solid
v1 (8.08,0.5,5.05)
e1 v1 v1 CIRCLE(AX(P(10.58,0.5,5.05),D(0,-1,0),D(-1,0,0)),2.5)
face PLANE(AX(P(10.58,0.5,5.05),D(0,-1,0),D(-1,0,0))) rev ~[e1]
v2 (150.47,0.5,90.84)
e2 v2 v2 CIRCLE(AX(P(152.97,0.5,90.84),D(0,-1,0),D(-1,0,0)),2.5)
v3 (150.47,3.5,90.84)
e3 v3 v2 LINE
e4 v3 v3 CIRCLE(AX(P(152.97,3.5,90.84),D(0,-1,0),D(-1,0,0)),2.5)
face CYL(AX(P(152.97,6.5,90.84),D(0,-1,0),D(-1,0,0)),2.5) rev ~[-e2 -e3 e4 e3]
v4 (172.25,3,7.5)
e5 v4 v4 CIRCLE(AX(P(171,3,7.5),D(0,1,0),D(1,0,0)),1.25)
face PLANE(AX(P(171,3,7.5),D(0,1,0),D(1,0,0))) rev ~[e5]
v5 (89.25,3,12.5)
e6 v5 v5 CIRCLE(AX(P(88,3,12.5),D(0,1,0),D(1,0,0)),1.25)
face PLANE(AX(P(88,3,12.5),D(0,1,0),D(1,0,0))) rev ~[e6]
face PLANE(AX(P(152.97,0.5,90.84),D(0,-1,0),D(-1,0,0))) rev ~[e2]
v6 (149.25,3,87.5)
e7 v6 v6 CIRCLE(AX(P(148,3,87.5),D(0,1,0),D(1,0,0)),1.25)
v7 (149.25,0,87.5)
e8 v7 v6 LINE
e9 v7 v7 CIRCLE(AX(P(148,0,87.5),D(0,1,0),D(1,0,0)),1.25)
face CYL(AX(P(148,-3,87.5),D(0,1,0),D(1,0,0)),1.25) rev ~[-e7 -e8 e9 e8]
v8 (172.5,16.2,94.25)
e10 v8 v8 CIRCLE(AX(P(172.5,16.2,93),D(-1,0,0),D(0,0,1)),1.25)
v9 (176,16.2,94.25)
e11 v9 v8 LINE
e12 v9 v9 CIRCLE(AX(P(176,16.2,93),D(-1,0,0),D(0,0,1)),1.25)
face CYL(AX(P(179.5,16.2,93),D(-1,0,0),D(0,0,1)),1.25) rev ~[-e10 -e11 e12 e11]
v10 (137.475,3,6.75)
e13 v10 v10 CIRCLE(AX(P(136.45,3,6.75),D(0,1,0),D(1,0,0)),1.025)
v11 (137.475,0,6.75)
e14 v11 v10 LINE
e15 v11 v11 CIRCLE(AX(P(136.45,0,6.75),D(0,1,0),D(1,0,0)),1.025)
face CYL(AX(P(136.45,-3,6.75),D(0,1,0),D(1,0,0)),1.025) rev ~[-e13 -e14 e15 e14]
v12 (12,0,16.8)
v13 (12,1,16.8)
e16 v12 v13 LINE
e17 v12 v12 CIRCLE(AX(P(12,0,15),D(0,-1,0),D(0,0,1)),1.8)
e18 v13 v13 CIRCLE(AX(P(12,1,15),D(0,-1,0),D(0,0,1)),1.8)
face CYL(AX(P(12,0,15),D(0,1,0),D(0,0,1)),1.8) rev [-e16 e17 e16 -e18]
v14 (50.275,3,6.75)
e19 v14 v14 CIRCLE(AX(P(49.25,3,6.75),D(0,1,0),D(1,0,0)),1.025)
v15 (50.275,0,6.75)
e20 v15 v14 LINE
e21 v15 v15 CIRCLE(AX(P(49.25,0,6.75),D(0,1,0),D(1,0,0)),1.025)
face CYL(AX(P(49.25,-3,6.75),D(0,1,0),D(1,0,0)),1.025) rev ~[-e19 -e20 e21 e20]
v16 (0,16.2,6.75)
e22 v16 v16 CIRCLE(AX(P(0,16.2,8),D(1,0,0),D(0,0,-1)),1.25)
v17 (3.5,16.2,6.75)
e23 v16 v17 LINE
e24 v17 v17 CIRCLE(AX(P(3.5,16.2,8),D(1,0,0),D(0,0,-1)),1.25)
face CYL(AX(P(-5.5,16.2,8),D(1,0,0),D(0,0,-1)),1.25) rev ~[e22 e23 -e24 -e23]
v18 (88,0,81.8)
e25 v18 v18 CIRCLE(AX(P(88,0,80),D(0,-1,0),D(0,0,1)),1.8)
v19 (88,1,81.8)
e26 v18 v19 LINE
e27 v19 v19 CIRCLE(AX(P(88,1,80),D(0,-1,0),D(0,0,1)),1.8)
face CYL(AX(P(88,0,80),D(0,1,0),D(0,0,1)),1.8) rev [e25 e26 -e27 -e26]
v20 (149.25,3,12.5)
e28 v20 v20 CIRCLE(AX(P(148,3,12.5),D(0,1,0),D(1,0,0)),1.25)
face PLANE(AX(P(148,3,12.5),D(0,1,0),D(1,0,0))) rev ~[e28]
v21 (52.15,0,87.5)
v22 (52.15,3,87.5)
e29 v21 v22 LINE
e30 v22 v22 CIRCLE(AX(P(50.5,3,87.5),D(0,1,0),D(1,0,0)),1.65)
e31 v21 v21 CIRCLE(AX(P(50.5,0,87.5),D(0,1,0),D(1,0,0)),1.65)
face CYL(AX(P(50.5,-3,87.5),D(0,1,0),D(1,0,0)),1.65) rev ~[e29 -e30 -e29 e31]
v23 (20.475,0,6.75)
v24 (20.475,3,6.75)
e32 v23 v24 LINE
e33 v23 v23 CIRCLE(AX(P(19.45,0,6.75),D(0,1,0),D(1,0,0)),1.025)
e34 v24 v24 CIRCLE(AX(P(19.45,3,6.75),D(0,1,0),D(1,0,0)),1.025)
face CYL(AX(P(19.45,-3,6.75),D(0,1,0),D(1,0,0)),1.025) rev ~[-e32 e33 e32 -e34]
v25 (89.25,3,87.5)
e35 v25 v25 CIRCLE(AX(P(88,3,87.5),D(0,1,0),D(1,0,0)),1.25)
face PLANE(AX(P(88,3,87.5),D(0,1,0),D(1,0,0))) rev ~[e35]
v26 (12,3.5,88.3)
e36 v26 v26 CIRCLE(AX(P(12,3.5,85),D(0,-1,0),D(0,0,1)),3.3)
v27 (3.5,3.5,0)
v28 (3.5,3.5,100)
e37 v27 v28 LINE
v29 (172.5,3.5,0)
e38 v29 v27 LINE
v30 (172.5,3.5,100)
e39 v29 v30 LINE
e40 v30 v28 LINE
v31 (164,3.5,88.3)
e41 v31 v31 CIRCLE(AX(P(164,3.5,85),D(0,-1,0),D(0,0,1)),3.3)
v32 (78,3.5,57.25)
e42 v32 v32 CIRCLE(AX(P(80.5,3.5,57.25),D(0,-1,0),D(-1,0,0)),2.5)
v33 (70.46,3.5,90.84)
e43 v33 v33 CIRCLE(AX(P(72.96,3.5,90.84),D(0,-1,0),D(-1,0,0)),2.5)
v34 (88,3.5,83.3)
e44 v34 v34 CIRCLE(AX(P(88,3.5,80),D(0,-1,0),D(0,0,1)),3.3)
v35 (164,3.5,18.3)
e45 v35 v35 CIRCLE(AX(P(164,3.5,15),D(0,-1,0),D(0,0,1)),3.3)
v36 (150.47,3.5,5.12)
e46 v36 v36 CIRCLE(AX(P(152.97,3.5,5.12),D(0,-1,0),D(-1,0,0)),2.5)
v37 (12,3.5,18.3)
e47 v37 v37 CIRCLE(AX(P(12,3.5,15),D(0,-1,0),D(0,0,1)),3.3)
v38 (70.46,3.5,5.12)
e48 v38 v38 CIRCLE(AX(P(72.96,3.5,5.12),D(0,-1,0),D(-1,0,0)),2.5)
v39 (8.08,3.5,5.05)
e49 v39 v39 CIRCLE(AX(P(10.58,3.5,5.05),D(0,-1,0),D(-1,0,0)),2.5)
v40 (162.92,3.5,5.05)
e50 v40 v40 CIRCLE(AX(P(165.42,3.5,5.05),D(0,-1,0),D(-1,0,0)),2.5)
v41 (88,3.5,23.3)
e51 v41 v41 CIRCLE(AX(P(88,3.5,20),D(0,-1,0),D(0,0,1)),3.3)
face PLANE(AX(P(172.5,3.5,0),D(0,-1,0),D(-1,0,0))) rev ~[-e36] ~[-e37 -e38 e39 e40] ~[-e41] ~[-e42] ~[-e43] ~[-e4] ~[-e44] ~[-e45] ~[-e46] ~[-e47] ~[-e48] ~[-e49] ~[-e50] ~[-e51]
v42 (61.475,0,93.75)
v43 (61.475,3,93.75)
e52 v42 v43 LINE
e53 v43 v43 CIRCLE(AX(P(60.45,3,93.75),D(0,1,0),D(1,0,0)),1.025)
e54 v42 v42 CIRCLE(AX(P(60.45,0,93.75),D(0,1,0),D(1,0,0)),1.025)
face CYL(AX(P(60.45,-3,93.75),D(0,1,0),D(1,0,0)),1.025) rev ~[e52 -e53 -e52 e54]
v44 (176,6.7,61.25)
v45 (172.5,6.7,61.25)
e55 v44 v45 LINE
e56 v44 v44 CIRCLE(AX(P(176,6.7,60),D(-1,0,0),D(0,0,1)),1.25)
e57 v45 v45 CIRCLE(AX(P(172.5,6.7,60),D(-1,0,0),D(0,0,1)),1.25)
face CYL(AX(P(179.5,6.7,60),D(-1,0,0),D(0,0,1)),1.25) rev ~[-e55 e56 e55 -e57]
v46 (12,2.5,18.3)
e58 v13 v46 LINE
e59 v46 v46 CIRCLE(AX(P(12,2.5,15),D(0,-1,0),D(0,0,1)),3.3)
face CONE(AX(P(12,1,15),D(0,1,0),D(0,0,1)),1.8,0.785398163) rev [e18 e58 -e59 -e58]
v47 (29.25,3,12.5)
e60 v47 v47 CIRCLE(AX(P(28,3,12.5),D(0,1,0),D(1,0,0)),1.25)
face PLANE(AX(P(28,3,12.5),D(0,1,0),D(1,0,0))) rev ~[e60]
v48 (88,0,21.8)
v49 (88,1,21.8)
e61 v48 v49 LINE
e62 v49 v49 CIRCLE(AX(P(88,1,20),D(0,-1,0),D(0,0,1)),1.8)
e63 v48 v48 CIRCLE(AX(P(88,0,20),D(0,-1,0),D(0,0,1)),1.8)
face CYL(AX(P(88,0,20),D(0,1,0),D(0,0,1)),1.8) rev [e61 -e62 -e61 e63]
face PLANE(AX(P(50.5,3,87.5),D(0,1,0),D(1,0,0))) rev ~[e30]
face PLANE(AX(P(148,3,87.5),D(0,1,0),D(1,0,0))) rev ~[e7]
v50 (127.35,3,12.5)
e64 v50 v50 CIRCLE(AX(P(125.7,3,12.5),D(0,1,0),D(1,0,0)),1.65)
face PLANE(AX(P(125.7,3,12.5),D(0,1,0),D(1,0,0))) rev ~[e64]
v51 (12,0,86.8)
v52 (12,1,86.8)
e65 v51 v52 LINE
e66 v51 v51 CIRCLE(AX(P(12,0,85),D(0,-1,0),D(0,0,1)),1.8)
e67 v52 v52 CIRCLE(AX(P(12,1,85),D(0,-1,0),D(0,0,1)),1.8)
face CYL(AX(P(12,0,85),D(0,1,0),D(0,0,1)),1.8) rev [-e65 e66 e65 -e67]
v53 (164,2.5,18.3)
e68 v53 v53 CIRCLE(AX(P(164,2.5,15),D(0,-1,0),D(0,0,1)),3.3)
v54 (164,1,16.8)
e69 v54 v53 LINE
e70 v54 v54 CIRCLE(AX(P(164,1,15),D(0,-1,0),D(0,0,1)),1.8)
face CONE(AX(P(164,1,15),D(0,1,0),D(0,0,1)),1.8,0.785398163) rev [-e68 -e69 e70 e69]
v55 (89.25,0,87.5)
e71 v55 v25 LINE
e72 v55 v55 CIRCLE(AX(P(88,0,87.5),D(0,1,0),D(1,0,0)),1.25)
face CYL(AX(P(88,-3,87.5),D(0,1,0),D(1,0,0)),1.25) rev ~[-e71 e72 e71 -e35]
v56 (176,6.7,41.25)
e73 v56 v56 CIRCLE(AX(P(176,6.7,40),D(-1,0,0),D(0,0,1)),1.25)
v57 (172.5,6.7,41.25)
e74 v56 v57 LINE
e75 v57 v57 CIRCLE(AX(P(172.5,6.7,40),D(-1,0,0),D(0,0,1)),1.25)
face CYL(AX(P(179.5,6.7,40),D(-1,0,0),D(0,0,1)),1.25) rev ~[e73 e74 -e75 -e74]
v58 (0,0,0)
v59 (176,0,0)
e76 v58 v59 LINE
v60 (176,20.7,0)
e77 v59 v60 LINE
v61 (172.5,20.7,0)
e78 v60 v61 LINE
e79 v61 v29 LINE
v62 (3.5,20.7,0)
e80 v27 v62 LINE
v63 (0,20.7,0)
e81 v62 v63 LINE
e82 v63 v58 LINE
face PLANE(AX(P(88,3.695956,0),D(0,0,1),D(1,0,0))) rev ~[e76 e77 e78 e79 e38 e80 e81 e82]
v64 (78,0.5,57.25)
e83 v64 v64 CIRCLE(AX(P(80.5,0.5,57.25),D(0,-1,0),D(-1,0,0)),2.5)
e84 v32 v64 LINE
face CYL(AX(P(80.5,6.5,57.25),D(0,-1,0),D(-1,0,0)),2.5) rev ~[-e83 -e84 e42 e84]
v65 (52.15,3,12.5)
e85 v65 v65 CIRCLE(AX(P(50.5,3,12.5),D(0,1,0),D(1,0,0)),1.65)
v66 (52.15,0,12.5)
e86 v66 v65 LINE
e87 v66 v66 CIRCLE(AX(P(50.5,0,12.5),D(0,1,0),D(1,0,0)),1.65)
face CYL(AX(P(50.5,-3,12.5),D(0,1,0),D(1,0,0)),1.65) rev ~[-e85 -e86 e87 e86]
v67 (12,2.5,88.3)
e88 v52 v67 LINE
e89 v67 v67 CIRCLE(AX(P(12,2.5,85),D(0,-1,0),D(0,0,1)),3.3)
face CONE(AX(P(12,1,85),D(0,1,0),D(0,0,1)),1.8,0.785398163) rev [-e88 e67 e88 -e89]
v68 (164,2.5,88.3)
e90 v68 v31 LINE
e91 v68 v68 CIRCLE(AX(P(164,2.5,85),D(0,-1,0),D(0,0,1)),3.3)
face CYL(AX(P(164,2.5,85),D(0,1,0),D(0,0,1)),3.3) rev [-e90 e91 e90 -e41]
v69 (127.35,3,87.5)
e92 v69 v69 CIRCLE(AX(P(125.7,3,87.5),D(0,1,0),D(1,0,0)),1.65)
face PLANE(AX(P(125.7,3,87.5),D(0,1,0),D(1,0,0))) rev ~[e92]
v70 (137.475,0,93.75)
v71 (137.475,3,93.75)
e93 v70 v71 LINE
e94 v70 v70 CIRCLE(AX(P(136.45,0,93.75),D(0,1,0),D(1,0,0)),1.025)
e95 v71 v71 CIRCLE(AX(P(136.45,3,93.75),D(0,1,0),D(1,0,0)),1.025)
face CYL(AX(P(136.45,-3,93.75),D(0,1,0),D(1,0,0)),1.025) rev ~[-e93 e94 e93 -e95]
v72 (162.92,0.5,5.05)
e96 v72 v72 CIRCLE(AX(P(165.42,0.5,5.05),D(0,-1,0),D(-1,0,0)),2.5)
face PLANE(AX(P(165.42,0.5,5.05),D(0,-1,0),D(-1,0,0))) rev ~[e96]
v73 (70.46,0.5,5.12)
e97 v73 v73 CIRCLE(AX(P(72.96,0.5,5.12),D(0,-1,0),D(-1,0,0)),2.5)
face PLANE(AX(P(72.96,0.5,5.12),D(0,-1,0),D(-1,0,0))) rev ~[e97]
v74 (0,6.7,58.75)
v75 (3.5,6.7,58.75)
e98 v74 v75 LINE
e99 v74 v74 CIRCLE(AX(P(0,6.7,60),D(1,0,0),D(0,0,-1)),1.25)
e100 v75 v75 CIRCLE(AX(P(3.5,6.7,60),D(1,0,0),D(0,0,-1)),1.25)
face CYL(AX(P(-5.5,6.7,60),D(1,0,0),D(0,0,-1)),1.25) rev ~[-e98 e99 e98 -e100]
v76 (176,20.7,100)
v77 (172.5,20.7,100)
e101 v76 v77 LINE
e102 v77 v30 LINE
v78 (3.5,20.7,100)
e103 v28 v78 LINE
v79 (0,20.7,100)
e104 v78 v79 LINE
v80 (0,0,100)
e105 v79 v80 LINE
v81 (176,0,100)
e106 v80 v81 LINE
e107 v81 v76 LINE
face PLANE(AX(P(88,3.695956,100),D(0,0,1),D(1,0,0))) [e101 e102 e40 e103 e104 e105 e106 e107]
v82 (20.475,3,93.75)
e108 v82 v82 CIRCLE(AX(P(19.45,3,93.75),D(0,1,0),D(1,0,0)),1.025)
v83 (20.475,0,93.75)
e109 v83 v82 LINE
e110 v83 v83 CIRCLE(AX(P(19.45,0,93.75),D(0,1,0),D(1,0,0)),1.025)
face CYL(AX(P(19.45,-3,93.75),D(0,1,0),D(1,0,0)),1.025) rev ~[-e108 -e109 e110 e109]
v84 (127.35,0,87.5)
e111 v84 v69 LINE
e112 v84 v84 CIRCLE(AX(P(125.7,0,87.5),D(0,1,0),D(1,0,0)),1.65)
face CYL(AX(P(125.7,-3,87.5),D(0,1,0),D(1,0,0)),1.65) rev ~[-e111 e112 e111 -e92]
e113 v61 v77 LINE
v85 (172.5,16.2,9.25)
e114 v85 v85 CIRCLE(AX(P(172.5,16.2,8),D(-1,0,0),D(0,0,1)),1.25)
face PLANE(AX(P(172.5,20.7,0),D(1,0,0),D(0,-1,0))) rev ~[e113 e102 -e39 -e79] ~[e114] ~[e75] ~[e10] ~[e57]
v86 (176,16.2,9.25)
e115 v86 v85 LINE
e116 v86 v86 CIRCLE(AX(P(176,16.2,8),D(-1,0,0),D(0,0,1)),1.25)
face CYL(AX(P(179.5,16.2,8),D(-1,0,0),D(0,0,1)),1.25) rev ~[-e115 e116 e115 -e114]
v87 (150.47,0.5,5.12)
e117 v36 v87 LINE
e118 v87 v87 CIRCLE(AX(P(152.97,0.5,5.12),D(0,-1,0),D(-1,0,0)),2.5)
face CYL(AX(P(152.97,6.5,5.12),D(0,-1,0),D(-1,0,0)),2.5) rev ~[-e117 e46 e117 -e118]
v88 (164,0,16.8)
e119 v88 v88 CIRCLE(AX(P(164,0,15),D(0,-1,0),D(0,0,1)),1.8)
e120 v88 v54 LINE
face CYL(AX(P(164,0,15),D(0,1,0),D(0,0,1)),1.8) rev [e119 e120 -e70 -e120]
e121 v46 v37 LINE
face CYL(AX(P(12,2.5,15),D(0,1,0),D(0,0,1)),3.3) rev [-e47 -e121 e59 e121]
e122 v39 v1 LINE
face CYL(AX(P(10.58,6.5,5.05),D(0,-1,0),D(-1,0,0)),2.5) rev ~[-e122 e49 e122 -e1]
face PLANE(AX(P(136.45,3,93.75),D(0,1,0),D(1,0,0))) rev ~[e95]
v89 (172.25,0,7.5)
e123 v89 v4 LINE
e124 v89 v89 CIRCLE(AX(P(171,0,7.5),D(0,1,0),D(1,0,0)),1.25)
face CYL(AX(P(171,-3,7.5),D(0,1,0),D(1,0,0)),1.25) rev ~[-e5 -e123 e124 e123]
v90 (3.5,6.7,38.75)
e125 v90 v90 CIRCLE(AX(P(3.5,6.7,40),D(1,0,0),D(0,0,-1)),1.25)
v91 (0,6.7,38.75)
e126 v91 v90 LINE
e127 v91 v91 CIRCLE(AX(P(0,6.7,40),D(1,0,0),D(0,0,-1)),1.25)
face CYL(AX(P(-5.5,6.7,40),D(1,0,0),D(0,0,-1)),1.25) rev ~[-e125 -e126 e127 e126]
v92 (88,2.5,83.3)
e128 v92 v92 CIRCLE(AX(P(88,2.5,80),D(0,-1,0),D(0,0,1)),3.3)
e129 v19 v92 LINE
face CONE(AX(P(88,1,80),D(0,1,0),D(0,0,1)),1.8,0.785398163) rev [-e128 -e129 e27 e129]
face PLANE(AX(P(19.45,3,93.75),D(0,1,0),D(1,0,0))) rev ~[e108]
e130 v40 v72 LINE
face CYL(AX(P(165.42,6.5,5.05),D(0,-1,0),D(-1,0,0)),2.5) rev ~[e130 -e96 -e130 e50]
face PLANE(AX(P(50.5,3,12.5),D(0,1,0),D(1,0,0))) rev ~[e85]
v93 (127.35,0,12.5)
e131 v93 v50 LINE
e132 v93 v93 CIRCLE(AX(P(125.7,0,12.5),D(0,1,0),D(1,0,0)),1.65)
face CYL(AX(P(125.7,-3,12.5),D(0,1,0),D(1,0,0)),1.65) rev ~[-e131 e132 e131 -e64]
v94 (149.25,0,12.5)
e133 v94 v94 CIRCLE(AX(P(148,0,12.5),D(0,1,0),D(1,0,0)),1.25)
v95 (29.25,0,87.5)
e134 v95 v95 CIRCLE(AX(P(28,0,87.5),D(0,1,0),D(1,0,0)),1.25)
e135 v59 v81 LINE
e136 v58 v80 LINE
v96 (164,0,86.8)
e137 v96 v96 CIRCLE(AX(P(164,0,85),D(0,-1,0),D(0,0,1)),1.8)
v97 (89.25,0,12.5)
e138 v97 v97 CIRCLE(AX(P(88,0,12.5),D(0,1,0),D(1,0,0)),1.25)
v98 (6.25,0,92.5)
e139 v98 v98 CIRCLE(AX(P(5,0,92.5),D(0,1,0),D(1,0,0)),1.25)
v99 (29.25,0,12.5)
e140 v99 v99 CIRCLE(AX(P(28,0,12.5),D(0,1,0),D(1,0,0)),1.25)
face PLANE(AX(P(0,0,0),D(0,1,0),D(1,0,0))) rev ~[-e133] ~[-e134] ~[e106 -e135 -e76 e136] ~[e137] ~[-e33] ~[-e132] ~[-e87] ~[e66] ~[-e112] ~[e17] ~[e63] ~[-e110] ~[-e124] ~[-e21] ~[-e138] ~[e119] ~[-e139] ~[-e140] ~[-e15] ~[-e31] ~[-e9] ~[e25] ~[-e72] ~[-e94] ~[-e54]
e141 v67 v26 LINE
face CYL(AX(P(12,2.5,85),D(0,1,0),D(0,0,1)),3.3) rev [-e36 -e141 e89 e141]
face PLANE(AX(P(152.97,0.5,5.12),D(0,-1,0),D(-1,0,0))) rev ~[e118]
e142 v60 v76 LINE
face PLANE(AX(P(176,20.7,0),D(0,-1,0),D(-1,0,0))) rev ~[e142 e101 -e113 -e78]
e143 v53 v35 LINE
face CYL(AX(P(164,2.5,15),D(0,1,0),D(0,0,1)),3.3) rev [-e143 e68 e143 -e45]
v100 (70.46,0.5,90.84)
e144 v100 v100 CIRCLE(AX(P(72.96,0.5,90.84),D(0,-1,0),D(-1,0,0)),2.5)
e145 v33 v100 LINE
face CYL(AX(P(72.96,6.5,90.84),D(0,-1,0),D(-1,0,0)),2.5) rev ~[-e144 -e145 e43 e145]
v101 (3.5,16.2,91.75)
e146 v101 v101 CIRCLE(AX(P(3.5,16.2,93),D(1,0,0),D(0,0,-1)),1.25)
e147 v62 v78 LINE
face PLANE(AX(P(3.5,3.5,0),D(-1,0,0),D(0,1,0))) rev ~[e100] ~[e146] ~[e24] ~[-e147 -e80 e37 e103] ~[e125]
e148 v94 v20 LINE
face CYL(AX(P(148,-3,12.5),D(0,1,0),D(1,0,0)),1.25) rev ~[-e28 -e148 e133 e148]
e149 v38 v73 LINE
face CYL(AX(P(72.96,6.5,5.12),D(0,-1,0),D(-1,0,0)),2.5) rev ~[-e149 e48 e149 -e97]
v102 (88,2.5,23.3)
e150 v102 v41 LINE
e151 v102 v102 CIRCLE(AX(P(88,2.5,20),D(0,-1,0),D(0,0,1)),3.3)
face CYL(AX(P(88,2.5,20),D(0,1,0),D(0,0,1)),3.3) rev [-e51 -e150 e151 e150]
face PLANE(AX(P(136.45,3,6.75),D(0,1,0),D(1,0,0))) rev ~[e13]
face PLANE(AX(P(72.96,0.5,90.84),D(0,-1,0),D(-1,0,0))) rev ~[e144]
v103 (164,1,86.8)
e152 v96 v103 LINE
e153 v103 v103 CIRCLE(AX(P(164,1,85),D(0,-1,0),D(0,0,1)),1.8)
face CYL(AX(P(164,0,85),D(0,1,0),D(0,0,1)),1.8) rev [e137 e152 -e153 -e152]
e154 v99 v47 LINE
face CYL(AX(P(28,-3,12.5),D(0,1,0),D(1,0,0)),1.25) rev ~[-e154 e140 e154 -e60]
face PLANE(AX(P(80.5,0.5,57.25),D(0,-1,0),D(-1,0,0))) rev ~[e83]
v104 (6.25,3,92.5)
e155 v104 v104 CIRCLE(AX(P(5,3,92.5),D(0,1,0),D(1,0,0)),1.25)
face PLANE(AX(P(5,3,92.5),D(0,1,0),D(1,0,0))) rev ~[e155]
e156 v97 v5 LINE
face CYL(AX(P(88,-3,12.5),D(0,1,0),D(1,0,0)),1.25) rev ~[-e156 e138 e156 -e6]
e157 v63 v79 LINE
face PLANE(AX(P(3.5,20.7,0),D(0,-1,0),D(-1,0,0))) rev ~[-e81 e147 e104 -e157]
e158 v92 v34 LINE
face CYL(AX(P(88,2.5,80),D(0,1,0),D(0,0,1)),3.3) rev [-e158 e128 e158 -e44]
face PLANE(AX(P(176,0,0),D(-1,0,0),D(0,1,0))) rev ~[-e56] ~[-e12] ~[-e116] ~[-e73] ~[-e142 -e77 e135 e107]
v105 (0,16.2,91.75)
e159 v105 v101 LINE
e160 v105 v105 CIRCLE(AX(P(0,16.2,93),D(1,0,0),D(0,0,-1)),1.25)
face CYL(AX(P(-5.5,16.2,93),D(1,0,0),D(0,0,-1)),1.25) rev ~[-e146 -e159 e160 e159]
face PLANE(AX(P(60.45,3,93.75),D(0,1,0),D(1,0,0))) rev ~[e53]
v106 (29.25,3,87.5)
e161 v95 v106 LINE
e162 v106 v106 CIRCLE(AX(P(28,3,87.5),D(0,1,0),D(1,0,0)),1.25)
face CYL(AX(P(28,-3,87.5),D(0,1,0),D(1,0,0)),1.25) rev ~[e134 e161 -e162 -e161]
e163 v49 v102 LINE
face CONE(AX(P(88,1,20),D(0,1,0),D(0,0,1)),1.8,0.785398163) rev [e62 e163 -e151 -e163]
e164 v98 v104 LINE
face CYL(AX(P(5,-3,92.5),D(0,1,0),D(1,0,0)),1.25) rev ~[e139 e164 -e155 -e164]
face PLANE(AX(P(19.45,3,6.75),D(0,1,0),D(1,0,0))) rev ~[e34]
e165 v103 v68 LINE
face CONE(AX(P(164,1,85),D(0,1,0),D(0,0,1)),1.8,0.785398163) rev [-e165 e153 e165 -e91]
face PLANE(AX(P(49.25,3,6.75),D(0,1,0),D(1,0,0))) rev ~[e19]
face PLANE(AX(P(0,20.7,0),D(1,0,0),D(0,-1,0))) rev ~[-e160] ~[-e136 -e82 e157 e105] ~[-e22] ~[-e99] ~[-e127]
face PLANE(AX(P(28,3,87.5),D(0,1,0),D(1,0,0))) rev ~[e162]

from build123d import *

# Parameters (mm, degrees)
EXTRUDE_1_DEPTH              = 100
HOLE_WIZARD_2_5_2_5_1_D      = 2.5
HOLE_WIZARD_2_5_2_5_1_DEPTH  = 3
HOLE_WIZARD_M2_51_D          = 2.05
HOLE_WIZARD_M2_51_DEPTH      = 3
HOLE_WIZARD_M31_D            = 2.5
HOLE_WIZARD_M31_DEPTH        = 3
HOLE_WIZARD_M41_D            = 3.3
HOLE_WIZARD_M41_DEPTH        = 3
HOLE_WIZARD_M32_D            = 2.5
HOLE_WIZARD_M32_DEPTH        = 3.5
HOLE_WIZARD_M33_D            = 2.5
HOLE_WIZARD_M33_DEPTH        = 5.5
HOLE_WIZARD_M31_2_AT_2_COUNT = 2
HOLE_WIZARD_M31_2_AT_2_PITCH = 76.164296097
HOLE_WIZARD_M31_2_AT_3_COUNT = 2
HOLE_WIZARD_M31_2_AT_3_PITCH = 152
HOLE_WIZARD_M31_2_AT_4_COUNT = 2
HOLE_WIZARD_M31_2_AT_4_PITCH = 70
HOLE_WIZARD_M31_2_AT_5_COUNT = 2
HOLE_WIZARD_M31_2_AT_5_PITCH = 100.004999875
HOLE_WIZARD_M31_2_AT_6_COUNT = 2
HOLE_WIZARD_M31_2_AT_6_PITCH = 167.343957166
HOLE_WIZARD_5_0_5_1_D        = 5
HOLE_WIZARD_5_0_5_1_DEPTH    = 3


with BuildPart() as part:
    # Эскиз1 → Вытянуть-Тонкостенный1 (new body)
    with BuildSketch(Plane.XY):
        Polygon((0, 20.7), (0, 0), (176, 0), (176, 20.7), (172.5, 20.7), (172.5, 3.5), (3.5, 3.5), (3.5, 20.7), align=None)
    extrude(amount=EXTRUDE_1_DEPTH)

    # Диаметр отверстия Ø2.5 (2.5)1
    with Locations(Plane(origin=(0, 0, 0), x_dir=(-1, 0, 0), z_dir=(0, -1, 0))):
        with Locations((-5, -92.5), (-171, -7.5)):
            Hole(HOLE_WIZARD_2_5_2_5_1_D / 2, depth=HOLE_WIZARD_2_5_2_5_1_DEPTH)

    # Отверстие обработанное метчиком M2,51
    with Locations(Plane(origin=(0, 0, 0), x_dir=(-1, 0, 0), z_dir=(0, -1, 0))):
        with Locations((-19.45, -93.75), (-60.45, -93.75), (-136.45, -93.75), (-136.45, -6.75), (-49.25, -6.75), (-19.45, -6.75)):
            Hole(HOLE_WIZARD_M2_51_D / 2, depth=HOLE_WIZARD_M2_51_DEPTH)

    # Hole Wizard M31
    with Locations(Plane(origin=(0, 0, 0), x_dir=(-1, 0, 0), z_dir=(0, -1, 0))):
        with Locations((-28, -87.5), (-88, -87.5), (-148, -87.5), (-148, -12.5), (-88, -12.5), (-28, -12.5)):
            Hole(HOLE_WIZARD_M31_D / 2, depth=HOLE_WIZARD_M31_DEPTH)

    # Отверстие обработанное метчиком M41
    with Locations(Plane(origin=(0, 0, 0), x_dir=(-1, 0, 0), z_dir=(0, -1, 0))):
        with Locations((-50.5, -87.5), (-125.7, -87.5), (-125.7, -12.5), (-50.5, -12.5)):
            Hole(HOLE_WIZARD_M41_D / 2, depth=HOLE_WIZARD_M41_DEPTH)

    # Отверстие обработанное метчиком M32
    with Locations(Plane(origin=(176, 0, 0), x_dir=(0, 0, -1), z_dir=(1, 0, 0))):
        with Locations((-93, 16.2), (-60, 6.7), (-40, 6.7), (-8, 16.2)):
            Hole(HOLE_WIZARD_M32_D / 2, depth=HOLE_WIZARD_M32_DEPTH)

    # Отверстие обработанное метчиком M33
    with Locations(Plane.ZY):
        with Locations((93, 16.2), (60, 6.7), (40, 6.7), (8, 16.2)):
            Hole(HOLE_WIZARD_M33_D / 2, depth=HOLE_WIZARD_M33_DEPTH)

    # Эскиз14 → Hole Wizard M31 2 (revolve, cut)
    with BuildSketch(Plane(origin=(12, 3.5, 15), x_dir=(0, 0, 1), z_dir=(1, 0, 0))):
        Polygon((0, 0), (0, 3.5), (1.8, 3.5), (1.8, 2.5), (3.3, 1), (3.3, 0), align=None)
    hole_wizard_m31_2 = revolve(axis=Axis((12, 9.85, 15), (0, -1, 0)), mode=Mode.SUBTRACT)

    # Hole Wizard M31 2 at 2: Hole Wizard M31 2 ×2
    with Locations(*[Vector(0.9978428725040861, 0, 0.06564755740158466) * (i * HOLE_WIZARD_M31_2_AT_2_PITCH) for i in range(1, HOLE_WIZARD_M31_2_AT_2_COUNT)]):
        add(hole_wizard_m31_2, mode=Mode.SUBTRACT)

    # Hole Wizard M31 2 at 3: Hole Wizard M31 2 ×2
    with Locations(*[(i * HOLE_WIZARD_M31_2_AT_3_PITCH, 0, 0) for i in range(1, HOLE_WIZARD_M31_2_AT_3_COUNT)]):
        add(hole_wizard_m31_2, mode=Mode.SUBTRACT)

    # Hole Wizard M31 2 at 4: Hole Wizard M31 2 ×2
    with Locations(*[(0, 0, i * HOLE_WIZARD_M31_2_AT_4_PITCH) for i in range(1, HOLE_WIZARD_M31_2_AT_4_COUNT)]):
        add(hole_wizard_m31_2, mode=Mode.SUBTRACT)

    # Hole Wizard M31 2 at 5: Hole Wizard M31 2 ×2
    with Locations(*[Vector(0.7599620028497626, 0, 0.649967502437297) * (i * HOLE_WIZARD_M31_2_AT_5_PITCH) for i in range(1, HOLE_WIZARD_M31_2_AT_5_COUNT)]):
        add(hole_wizard_m31_2, mode=Mode.SUBTRACT)

    # Hole Wizard M31 2 at 6: Hole Wizard M31 2 ×2
    with Locations(*[Vector(0.9083088662063591, 0, 0.41830013575292857) * (i * HOLE_WIZARD_M31_2_AT_6_PITCH) for i in range(1, HOLE_WIZARD_M31_2_AT_6_COUNT)]):
        add(hole_wizard_m31_2, mode=Mode.SUBTRACT)

    # Диаметр отверстия Ø5.0 (5)1
    with Locations(Plane(origin=(0, 3.5, 0), x_dir=(1, 0, 0), z_dir=(0, 1, 0))):
        with Locations((165.42, -5.05), (152.97, -5.12), (72.96, -5.12), (10.58, -5.05), (80.5, -57.25), (72.96, -90.84), (152.97, -90.84)):
            Hole(HOLE_WIZARD_5_0_5_1_D / 2, depth=HOLE_WIZARD_5_0_5_1_DEPTH)


solid = part.part
